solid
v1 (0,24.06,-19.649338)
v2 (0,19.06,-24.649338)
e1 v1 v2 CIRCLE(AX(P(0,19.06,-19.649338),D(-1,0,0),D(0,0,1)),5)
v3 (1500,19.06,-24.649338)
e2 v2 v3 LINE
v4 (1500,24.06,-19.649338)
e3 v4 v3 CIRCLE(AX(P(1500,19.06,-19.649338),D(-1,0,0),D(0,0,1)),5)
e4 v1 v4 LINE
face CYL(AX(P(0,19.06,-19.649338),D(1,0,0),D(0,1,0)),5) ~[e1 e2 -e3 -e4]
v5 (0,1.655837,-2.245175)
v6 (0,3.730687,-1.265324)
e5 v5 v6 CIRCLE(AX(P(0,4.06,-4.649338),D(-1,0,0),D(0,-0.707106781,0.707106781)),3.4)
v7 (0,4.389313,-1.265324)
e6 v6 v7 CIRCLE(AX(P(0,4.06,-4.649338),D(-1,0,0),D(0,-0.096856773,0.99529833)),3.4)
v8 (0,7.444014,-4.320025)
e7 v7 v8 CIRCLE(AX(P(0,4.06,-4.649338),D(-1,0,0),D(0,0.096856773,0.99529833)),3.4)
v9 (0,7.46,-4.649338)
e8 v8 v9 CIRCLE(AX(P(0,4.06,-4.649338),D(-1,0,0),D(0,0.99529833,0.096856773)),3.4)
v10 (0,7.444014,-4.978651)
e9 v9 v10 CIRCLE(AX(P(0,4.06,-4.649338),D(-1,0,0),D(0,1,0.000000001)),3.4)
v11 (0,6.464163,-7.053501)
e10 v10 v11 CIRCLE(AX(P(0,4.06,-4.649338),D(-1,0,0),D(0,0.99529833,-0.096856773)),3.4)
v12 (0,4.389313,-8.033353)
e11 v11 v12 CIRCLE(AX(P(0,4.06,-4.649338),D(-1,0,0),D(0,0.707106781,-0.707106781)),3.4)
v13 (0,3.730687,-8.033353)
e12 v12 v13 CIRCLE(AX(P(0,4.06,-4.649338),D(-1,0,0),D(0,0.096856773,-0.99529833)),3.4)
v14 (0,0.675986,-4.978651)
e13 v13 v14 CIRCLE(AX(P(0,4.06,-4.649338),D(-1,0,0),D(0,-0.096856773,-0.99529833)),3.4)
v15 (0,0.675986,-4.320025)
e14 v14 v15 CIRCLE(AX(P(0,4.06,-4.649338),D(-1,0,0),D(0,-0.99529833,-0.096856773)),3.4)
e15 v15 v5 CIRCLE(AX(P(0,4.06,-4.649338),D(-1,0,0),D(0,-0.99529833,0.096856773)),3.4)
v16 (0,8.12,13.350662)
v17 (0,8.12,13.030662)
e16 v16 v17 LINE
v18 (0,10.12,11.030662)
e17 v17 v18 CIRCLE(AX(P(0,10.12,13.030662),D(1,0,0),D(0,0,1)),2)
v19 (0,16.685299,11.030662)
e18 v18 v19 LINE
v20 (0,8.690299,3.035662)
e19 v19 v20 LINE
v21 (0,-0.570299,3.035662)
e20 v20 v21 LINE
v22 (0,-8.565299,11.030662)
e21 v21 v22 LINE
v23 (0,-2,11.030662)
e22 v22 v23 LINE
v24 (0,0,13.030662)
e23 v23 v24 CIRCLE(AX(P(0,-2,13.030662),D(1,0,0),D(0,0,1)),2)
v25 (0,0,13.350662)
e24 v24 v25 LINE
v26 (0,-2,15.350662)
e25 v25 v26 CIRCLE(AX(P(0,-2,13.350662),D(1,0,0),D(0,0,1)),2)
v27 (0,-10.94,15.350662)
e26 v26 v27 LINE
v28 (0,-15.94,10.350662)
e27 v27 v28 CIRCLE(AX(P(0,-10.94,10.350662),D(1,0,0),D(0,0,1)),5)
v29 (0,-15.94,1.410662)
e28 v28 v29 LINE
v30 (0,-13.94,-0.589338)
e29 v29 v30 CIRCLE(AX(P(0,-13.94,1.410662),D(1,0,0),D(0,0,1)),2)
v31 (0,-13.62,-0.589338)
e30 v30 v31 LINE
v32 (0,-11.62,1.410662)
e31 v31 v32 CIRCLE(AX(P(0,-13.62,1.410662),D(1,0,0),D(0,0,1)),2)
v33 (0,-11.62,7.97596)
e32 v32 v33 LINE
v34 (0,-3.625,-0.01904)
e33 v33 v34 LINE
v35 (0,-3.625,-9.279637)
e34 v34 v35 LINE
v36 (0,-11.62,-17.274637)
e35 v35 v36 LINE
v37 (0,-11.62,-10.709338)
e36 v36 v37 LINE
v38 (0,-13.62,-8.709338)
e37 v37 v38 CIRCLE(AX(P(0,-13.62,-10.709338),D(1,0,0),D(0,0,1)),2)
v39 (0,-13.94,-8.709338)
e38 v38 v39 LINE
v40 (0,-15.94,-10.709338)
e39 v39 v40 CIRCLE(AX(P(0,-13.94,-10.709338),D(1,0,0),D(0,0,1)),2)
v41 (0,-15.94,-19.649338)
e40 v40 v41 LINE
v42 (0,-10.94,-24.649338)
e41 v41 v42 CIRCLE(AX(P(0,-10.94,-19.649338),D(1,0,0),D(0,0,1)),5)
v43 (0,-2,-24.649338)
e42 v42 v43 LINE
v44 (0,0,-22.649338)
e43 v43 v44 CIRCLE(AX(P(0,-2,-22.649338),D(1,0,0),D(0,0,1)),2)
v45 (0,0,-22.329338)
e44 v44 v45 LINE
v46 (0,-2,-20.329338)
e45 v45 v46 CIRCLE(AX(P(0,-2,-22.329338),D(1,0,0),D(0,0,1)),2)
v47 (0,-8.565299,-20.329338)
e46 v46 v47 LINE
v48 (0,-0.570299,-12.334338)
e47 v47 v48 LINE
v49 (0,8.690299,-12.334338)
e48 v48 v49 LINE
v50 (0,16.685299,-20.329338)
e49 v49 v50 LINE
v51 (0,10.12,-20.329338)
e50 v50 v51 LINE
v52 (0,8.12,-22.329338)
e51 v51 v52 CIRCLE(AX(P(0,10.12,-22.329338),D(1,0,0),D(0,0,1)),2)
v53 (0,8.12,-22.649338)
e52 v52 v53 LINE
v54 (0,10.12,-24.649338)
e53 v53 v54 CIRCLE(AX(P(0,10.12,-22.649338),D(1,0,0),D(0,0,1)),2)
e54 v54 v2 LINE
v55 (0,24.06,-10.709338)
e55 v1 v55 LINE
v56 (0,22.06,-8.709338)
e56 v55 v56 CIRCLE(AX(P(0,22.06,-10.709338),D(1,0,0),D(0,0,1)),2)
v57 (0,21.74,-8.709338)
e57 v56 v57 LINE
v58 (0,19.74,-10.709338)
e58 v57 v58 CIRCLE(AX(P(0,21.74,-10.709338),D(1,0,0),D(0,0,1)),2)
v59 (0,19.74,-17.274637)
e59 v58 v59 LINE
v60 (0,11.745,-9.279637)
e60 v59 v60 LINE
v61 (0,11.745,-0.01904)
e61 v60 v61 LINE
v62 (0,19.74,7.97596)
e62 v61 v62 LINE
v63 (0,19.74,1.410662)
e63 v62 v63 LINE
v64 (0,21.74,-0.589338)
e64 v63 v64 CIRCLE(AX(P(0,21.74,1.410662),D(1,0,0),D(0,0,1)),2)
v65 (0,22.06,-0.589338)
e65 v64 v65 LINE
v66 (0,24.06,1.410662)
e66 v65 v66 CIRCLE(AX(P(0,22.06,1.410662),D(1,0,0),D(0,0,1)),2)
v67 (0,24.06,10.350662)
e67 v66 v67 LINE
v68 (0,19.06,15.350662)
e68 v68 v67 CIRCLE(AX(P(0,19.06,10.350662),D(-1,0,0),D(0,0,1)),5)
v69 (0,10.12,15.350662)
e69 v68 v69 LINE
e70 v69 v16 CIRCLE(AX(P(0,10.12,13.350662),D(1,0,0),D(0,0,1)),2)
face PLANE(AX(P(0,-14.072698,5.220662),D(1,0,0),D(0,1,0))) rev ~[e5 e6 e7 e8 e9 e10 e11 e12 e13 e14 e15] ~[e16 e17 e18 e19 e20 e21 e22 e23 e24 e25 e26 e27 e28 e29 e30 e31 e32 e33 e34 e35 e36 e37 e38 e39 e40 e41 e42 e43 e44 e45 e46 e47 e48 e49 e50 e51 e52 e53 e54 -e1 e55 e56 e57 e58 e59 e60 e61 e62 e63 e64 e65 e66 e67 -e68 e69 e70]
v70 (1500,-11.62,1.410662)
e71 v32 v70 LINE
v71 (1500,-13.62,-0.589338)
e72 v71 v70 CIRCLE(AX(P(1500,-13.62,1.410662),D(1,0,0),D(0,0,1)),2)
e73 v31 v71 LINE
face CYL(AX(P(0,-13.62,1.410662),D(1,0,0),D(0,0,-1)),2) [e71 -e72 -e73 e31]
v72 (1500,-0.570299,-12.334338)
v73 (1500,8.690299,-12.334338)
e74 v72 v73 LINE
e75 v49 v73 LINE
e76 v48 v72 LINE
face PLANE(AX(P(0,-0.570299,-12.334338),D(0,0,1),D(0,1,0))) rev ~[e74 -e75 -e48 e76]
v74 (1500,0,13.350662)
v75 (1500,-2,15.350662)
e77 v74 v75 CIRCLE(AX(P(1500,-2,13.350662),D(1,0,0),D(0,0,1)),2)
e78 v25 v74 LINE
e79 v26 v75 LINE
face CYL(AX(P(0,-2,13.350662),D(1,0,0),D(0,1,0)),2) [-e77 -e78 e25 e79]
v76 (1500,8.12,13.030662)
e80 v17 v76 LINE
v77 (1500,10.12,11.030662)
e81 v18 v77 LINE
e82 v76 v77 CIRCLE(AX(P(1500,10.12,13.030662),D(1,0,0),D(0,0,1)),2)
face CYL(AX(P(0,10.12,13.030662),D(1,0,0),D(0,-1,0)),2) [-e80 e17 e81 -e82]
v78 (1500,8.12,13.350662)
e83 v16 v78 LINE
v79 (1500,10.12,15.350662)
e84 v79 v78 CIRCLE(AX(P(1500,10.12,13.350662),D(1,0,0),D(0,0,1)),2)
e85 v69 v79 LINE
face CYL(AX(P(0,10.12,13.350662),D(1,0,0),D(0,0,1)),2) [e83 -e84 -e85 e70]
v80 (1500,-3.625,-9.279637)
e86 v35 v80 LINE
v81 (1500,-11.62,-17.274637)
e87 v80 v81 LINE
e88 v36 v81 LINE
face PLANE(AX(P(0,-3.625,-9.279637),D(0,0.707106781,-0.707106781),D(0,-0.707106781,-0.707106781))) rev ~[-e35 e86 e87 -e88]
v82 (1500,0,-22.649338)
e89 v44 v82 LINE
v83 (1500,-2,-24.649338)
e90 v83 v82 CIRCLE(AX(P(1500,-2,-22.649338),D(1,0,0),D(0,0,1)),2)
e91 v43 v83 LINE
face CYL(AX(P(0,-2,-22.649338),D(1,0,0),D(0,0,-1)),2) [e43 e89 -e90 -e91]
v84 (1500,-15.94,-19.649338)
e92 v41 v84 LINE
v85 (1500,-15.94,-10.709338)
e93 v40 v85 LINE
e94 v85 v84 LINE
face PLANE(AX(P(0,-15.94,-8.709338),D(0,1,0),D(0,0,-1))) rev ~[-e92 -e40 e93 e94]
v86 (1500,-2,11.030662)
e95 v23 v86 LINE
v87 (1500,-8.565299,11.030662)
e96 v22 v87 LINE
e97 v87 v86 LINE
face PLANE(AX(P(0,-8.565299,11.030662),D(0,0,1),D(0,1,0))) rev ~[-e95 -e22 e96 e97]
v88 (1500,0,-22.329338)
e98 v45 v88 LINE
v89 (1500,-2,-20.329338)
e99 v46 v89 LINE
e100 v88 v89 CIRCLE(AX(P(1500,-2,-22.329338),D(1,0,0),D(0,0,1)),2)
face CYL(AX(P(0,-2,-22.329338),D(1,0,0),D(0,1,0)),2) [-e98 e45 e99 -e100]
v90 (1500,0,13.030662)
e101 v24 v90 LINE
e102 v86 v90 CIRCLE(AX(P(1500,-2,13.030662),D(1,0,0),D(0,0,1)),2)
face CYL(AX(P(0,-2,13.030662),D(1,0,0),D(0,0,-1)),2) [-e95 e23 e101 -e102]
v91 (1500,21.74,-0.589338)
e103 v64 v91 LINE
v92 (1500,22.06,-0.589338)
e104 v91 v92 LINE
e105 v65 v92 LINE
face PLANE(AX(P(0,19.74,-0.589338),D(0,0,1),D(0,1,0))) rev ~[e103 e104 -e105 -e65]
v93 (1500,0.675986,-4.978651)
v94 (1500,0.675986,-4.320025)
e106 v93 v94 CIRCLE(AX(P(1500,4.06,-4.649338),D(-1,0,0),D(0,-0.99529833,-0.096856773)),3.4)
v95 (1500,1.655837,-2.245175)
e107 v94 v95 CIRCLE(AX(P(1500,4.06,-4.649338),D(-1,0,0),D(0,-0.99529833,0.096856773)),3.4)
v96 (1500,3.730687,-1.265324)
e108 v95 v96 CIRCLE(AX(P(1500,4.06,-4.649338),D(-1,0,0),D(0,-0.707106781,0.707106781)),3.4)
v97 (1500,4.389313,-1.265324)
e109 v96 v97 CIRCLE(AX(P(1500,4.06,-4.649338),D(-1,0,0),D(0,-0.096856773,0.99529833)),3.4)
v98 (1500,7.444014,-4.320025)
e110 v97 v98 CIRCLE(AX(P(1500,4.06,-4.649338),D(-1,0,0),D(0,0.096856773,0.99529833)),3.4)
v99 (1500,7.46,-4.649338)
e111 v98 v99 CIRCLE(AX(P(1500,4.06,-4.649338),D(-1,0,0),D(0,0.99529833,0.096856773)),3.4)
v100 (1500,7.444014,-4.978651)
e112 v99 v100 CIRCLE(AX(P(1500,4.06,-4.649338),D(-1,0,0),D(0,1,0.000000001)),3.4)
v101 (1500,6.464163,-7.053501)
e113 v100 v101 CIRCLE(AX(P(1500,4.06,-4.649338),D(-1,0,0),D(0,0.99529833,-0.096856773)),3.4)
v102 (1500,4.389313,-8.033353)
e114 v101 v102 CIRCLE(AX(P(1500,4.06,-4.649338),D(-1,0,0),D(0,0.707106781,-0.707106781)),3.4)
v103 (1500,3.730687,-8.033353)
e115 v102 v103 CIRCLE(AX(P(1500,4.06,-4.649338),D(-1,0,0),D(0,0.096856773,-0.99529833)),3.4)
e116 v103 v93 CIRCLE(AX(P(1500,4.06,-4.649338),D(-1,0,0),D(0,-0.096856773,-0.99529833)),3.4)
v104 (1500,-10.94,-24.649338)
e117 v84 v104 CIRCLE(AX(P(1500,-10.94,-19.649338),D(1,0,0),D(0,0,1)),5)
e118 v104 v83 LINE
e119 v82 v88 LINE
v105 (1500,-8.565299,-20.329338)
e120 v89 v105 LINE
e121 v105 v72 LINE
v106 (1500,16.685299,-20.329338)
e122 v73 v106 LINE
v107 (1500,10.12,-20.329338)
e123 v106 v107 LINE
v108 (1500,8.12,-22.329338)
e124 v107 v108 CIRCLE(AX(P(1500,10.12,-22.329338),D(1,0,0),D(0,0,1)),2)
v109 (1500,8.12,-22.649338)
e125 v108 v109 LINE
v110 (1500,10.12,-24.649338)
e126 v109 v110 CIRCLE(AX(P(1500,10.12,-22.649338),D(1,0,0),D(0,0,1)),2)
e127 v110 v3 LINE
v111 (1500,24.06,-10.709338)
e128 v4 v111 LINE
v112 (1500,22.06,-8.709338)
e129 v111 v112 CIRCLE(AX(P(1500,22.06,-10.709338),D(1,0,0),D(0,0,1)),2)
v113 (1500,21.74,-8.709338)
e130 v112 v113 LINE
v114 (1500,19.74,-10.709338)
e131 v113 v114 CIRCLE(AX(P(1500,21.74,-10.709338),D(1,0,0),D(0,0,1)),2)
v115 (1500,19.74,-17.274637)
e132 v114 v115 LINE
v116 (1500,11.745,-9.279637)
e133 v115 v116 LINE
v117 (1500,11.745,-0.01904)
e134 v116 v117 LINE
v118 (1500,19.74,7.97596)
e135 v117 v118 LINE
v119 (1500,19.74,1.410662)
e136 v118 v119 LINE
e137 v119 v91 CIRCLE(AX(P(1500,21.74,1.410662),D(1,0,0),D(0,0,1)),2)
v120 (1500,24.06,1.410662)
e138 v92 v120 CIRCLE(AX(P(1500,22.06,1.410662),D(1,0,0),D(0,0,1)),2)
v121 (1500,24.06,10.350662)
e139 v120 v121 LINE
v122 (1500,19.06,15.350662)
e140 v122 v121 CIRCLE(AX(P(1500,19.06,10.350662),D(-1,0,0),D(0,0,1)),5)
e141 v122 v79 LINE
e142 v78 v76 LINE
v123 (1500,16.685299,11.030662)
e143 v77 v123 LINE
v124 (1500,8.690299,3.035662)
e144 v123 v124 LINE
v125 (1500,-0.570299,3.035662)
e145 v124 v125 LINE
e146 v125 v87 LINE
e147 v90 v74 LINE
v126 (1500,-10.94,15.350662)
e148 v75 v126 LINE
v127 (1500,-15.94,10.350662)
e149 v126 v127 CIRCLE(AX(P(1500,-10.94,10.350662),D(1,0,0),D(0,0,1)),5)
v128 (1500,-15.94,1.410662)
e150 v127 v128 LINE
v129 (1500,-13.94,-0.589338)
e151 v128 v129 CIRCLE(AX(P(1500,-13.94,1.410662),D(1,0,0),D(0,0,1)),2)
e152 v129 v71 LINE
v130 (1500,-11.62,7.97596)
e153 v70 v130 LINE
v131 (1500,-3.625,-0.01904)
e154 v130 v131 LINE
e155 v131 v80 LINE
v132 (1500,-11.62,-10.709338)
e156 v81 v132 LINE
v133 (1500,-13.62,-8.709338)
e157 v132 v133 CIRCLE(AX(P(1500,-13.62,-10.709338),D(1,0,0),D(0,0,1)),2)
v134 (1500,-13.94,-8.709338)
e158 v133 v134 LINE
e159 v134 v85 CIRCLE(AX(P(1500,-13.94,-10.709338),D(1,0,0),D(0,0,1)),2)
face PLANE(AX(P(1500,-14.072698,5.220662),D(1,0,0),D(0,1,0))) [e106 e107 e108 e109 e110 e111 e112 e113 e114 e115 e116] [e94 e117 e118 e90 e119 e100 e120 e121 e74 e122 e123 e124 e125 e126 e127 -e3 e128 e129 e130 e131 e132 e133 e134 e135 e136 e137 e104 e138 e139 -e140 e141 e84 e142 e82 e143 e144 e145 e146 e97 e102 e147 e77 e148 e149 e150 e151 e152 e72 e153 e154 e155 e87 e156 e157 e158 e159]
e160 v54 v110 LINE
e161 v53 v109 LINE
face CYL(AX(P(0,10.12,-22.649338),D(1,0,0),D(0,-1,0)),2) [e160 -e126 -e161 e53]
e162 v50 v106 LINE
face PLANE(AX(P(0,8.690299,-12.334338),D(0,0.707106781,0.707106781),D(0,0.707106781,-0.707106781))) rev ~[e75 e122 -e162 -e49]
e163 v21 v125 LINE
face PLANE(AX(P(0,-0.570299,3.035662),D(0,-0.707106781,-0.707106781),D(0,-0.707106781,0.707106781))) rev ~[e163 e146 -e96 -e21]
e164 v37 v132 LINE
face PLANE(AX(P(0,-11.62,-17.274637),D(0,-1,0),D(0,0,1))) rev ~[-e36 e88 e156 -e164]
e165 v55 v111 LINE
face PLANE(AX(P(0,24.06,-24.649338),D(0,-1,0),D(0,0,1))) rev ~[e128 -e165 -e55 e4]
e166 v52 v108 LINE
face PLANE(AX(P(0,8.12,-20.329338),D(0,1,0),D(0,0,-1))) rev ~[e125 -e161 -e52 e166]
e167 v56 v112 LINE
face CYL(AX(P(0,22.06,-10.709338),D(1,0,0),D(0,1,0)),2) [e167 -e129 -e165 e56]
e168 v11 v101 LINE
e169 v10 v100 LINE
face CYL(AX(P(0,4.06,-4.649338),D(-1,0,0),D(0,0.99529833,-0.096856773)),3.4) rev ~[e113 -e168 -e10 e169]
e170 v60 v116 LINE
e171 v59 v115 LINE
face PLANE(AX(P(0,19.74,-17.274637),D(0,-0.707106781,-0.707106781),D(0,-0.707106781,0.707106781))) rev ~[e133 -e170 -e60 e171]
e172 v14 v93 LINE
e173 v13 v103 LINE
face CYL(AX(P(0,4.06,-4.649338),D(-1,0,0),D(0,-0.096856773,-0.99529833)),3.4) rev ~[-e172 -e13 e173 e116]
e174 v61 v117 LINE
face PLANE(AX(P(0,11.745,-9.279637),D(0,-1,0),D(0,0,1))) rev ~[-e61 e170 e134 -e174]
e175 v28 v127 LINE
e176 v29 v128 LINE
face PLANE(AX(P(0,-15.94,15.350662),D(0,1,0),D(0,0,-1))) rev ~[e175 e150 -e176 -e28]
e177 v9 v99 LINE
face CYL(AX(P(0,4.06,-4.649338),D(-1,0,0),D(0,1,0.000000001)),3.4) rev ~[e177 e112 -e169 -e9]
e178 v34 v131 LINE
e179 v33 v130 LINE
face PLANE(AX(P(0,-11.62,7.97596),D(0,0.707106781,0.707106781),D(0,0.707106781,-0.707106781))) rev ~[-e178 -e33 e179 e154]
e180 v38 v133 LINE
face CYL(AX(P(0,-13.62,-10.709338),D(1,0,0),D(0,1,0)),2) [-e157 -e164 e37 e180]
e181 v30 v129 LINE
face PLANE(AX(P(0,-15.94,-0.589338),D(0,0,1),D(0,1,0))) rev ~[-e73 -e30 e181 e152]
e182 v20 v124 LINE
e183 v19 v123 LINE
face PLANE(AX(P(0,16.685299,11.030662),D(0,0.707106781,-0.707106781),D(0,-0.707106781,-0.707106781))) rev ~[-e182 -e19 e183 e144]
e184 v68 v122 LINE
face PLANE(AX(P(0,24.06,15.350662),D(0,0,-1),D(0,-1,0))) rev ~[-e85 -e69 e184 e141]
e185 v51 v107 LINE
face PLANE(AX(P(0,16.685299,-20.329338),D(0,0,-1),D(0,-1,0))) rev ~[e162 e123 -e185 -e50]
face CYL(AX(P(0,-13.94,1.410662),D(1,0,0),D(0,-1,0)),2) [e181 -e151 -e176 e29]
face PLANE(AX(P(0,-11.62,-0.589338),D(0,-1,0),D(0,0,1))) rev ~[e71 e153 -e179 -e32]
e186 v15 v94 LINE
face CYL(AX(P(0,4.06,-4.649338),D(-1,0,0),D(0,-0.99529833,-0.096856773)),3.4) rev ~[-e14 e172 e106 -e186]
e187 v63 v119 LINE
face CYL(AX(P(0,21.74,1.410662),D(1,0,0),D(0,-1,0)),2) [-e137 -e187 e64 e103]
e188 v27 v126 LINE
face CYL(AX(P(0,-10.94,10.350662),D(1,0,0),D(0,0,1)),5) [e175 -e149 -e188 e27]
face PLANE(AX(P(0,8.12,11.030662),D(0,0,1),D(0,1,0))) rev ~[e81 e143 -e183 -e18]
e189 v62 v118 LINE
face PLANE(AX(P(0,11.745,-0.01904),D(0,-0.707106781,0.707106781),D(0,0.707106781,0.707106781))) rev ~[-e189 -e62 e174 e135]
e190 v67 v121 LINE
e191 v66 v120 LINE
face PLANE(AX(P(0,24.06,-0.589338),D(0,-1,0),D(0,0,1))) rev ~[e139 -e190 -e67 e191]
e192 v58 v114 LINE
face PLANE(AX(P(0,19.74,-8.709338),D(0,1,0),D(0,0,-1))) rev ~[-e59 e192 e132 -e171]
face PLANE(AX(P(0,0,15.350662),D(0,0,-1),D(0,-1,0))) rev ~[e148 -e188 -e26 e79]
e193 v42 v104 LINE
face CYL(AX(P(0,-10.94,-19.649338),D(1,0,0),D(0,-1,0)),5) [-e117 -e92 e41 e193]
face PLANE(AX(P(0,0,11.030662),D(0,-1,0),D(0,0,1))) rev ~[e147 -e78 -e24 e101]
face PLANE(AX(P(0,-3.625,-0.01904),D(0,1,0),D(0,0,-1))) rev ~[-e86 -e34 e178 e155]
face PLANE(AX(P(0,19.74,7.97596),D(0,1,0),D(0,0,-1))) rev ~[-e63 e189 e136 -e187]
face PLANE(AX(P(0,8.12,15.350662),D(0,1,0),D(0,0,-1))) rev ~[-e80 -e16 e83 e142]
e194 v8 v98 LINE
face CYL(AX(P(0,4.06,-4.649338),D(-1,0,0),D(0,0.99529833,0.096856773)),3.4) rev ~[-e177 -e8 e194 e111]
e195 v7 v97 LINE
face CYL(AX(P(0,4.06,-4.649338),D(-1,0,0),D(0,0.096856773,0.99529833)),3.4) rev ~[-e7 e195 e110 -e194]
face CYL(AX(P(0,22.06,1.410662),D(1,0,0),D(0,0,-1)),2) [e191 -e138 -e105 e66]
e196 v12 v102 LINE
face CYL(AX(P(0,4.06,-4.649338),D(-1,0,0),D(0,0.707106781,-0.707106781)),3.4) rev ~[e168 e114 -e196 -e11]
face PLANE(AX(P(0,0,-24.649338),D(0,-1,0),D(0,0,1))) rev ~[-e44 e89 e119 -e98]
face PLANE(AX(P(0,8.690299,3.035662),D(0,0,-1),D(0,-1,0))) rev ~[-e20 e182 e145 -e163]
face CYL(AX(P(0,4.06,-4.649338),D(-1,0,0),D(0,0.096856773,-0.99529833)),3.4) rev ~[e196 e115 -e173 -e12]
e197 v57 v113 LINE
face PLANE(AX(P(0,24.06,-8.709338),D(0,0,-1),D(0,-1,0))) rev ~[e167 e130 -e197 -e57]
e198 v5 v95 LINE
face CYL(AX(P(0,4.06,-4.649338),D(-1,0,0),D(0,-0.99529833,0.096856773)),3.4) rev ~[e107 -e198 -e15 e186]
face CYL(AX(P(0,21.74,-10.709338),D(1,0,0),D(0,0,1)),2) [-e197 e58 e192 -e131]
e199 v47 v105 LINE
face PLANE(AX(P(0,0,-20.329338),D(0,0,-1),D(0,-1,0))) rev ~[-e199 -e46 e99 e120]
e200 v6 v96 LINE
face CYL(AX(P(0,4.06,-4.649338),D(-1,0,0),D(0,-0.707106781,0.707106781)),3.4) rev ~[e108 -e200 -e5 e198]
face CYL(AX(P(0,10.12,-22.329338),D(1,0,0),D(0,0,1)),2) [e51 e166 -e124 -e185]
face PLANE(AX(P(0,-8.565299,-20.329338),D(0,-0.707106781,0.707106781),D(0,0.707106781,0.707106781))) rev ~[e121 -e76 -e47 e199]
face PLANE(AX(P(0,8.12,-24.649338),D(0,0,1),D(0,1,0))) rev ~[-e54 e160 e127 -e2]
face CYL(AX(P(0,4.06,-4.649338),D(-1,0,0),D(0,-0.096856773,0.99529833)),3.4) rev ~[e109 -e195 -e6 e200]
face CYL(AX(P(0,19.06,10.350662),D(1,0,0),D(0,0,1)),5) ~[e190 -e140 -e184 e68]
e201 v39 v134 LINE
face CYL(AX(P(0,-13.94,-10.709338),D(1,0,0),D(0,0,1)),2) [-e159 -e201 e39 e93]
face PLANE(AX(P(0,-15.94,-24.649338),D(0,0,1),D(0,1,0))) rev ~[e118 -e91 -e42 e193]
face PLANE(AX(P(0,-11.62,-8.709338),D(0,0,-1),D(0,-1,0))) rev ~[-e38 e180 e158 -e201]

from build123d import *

# Parameters (mm, degrees)
F1_DEPTH = 1500
F2_R     = 2
F3_R     = 5


with BuildPart() as f1:
    # F0 (on Right) → F1 (new body)
    with BuildSketch(Plane.YZ):
        Polygon((-11.62, 7.9759603159), (-15.94, 12.2959603159), (-15.94, -0.5893383893), (-11.62, -0.5893383893), align=None)
        Polygon((-11.62, 11.0306616107), (-15.94, 15.3506616107), (-15.94, 12.2959603159), (-11.62, 7.9759603159), (-8.7938307864, 5.1497911023), (-7.266480139, 6.6771417497), align=None)
        Polygon((-8.5652987053, 11.0306616107), (-11.62, 11.0306616107), (-7.266480139, 6.6771417497), (-5.7391294917, 8.2044923971), align=None)
        Polygon((0, 15.3506616107), (-12.8852987053, 15.3506616107), (-8.5652987053, 11.0306616107), (0, 11.0306616107), align=None)
        Polygon((-12.8852987053, 15.3506616107), (-15.94, 15.3506616107), (-11.62, 11.0306616107), (-8.5652987053, 11.0306616107), align=None)
        Polygon((-15.94, -21.5946370946), (-11.62, -17.2746370946), (-11.62, -8.7093383893), (-15.94, -8.7093383893), align=None)
        Polygon((-3.625, -12.3343383893), (-3.625, -9.2796370946), (-11.62, -17.2746370946), (-15.94, -21.5946370946), (-15.94, -24.6493383893), (-12.8852987053, -24.6493383893), (-8.5652987053, -20.3293383893), (-0.5702987053, -12.3343383893), align=None)
        Polygon((0, -20.3293383893), (-8.5652987053, -20.3293383893), (-12.8852987053, -24.6493383893), (0, -24.6493383893), align=None)
        Polygon((14.9650698751, 9.3104327805), (8.6902987053, 3.0356616107), (11.745, 3.0356616107), (11.745, -0.0190396841), (18.0197711699, 6.2557314858), (19.74, 7.9759603159), (16.6852987053, 11.0306616107), align=None)
        Polygon((21.0052987053, 15.3506616107), (16.6852987053, 11.0306616107), (19.74, 7.9759603159), (24.06, 12.2959603159), (24.06, 15.3506616107), align=None)
        Polygon((24.06, 12.2959603159), (19.74, 7.9759603159), (19.74, -0.5893383893), (24.06, -0.5893383893), align=None)
        Polygon((8.12, 11.0306616107), (16.6852987053, 11.0306616107), (21.0052987053, 15.3506616107), (8.12, 15.3506616107), align=None)
        with BuildLine():
            Line((11.745, -9.2796370946), (11.745, -0.0190396841))
            Line((11.745, -0.0190396841), (7.4440143218, -4.3200253623))
            ThreePointArc((7.4440143218, -4.3200253623), (7.456001229, -4.4844879937), (7.46, -4.6493383893))
            ThreePointArc((7.46, -4.6493383893), (7.456001229, -4.8141887849), (7.4440143218, -4.9786514164))
            Line((7.4440143218, -4.9786514164), (11.745, -9.2796370946))
        make_face()
        with BuildLine():
            Line((3.7306869729, -8.0333527111), (-0.5702987053, -12.3343383893))
            Line((-0.5702987053, -12.3343383893), (8.6902987053, -12.3343383893))
            Line((8.6902987053, -12.3343383893), (4.3893130271, -8.0333527111))
            ThreePointArc((4.3893130271, -8.0333527111), (4.06, -8.0493383893), (3.7306869729, -8.0333527111))
        make_face()
        with BuildLine():
            Line((0.6759856782, -4.3200253623), (-3.625, -0.0190396841))
            Line((-3.625, -0.0190396841), (-3.625, -9.2796370946))
            Line((-3.625, -9.2796370946), (0.6759856782, -4.9786514164))
            ThreePointArc((0.6759856782, -4.9786514164), (0.66, -4.6493383893), (0.6759856782, -4.3200253623))
        make_face()
        with BuildLine():
            Line((8.6902987053, 3.0356616107), (-0.5702987053, 3.0356616107))
            Line((-0.5702987053, 3.0356616107), (3.7306869729, -1.2653240675))
            ThreePointArc((3.7306869729, -1.2653240675), (4.06, -1.2493383893), (4.3893130271, -1.2653240675))
            Line((4.3893130271, -1.2653240675), (8.6902987053, 3.0356616107))
        make_face()
        Polygon((-5.7391294917, 8.2044923971), (-7.266480139, 6.6771417497), (-3.625, 3.0356616107), (-0.5702987053, 3.0356616107), align=None)
        Polygon((-3.625, 3.0356616107), (-7.266480139, 6.6771417497), (-8.7938307864, 5.1497911023), (-3.625, -0.0190396841), align=None)
        Polygon((11.745, -12.3343383893), (8.6902987053, -12.3343383893), (16.6852987053, -20.3293383893), (21.0052987053, -24.6493383893), (24.06, -24.6493383893), align=None)
        Polygon((19.74, -17.2746370946), (11.745, -9.2796370946), (11.745, -12.3343383893), (24.06, -24.6493383893), (24.06, -21.5946370946), align=None)
        Polygon((19.74, -8.7093383893), (19.74, -17.2746370946), (24.06, -21.5946370946), (24.06, -8.7093383893), align=None)
        Polygon((21.0052987053, -24.6493383893), (16.6852987053, -20.3293383893), (8.12, -20.3293383893), (8.12, -24.6493383893), align=None)
        with BuildLine():
            Line((11.745, 3.0356616107), (8.6902987053, 3.0356616107))
            Line((8.6902987053, 3.0356616107), (4.3893130271, -1.2653240675))
            ThreePointArc((4.3893130271, -1.2653240675), (6.464163056, -2.2451753333), (7.4440143218, -4.3200253623))
            Line((7.4440143218, -4.3200253623), (11.745, -0.0190396841))
            Line((11.745, -0.0190396841), (11.745, 3.0356616107))
        make_face()
        with BuildLine():
            Line((1.655836944, -2.2451753333), (-3.625, 3.0356616107))
            Line((-3.625, 3.0356616107), (-3.625, -0.0190396841))
            Line((-3.625, -0.0190396841), (0.6759856782, -4.3200253623))
            ThreePointArc((0.6759856782, -4.3200253623), (0.9855894874, -3.1974430763), (1.655836944, -2.2451753333))
        make_face()
        with BuildLine():
            Line((0.6759856782, -4.9786514164), (-3.625, -9.2796370946))
            Line((-3.625, -9.2796370946), (-3.625, -12.3343383893))
            Line((-3.625, -12.3343383893), (-0.5702987053, -12.3343383893))
            Line((-0.5702987053, -12.3343383893), (3.7306869729, -8.0333527111))
            ThreePointArc((3.7306869729, -8.0333527111), (1.655836944, -7.0535014454), (0.6759856782, -4.9786514164))
        make_face()
        with BuildLine():
            Line((11.745, -12.3343383893), (6.464163056, -7.0535014454))
            ThreePointArc((6.464163056, -7.0535014454), (5.511895313, -7.7237489019), (4.3893130271, -8.0333527111))
            Line((4.3893130271, -8.0333527111), (8.6902987053, -12.3343383893))
            Line((8.6902987053, -12.3343383893), (11.745, -12.3343383893))
        make_face()
        with BuildLine():
            ThreePointArc((7.4440143218, -4.9786514164), (7.1344105126, -6.1012337024), (6.464163056, -7.0535014454))
            Line((6.464163056, -7.0535014454), (11.745, -12.3343383893))
            Line((11.745, -12.3343383893), (11.745, -9.2796370946))
            Line((11.745, -9.2796370946), (7.4440143218, -4.9786514164))
        make_face()
        with BuildLine():
            Line((-0.5702987053, 3.0356616107), (-3.625, 3.0356616107))
            Line((-3.625, 3.0356616107), (1.655836944, -2.2451753333))
            ThreePointArc((1.655836944, -2.2451753333), (2.608104687, -1.5749278767), (3.7306869729, -1.2653240675))
            Line((3.7306869729, -1.2653240675), (-0.5702987053, 3.0356616107))
        make_face()
    extrude(amount=F1_DEPTH)

    # F2
    f2_edges = [f1.edges().sort_by_distance(p)[0] for p in [
        (750, 0, 11.030662),
        (750, -11.62, -0.589338),
        (750, -15.94, -0.589338),
        (750, 0, 15.350662),
        (750, 8.12, 11.030662),
        (750, 19.74, -0.589338),
        (750, 24.06, -0.589338),
        (750, 8.12, -24.649338),
        (750, 8.12, 15.350662),
        (750, -15.94, -8.709338),
        (750, -11.62, -8.709338),
        (750, 0, -24.649338),
        (750, 0, -20.329338),
        (750, 8.12, -20.329338),
        (750, 19.74, -8.709338),
        (750, 24.06, -8.709338),
    ]]
    fillet(f2_edges, radius=F2_R)

    # F3
    f3_edges = [f1.edges().sort_by_distance(p)[0] for p in [
        (750, -15.94, 15.350662),
        (750, 24.06, 15.350662),
        (750, 24.06, -24.649338),
        (750, -15.94, -24.649338),
    ]]
    fillet(f3_edges, radius=F3_R)


solid = f1.part
